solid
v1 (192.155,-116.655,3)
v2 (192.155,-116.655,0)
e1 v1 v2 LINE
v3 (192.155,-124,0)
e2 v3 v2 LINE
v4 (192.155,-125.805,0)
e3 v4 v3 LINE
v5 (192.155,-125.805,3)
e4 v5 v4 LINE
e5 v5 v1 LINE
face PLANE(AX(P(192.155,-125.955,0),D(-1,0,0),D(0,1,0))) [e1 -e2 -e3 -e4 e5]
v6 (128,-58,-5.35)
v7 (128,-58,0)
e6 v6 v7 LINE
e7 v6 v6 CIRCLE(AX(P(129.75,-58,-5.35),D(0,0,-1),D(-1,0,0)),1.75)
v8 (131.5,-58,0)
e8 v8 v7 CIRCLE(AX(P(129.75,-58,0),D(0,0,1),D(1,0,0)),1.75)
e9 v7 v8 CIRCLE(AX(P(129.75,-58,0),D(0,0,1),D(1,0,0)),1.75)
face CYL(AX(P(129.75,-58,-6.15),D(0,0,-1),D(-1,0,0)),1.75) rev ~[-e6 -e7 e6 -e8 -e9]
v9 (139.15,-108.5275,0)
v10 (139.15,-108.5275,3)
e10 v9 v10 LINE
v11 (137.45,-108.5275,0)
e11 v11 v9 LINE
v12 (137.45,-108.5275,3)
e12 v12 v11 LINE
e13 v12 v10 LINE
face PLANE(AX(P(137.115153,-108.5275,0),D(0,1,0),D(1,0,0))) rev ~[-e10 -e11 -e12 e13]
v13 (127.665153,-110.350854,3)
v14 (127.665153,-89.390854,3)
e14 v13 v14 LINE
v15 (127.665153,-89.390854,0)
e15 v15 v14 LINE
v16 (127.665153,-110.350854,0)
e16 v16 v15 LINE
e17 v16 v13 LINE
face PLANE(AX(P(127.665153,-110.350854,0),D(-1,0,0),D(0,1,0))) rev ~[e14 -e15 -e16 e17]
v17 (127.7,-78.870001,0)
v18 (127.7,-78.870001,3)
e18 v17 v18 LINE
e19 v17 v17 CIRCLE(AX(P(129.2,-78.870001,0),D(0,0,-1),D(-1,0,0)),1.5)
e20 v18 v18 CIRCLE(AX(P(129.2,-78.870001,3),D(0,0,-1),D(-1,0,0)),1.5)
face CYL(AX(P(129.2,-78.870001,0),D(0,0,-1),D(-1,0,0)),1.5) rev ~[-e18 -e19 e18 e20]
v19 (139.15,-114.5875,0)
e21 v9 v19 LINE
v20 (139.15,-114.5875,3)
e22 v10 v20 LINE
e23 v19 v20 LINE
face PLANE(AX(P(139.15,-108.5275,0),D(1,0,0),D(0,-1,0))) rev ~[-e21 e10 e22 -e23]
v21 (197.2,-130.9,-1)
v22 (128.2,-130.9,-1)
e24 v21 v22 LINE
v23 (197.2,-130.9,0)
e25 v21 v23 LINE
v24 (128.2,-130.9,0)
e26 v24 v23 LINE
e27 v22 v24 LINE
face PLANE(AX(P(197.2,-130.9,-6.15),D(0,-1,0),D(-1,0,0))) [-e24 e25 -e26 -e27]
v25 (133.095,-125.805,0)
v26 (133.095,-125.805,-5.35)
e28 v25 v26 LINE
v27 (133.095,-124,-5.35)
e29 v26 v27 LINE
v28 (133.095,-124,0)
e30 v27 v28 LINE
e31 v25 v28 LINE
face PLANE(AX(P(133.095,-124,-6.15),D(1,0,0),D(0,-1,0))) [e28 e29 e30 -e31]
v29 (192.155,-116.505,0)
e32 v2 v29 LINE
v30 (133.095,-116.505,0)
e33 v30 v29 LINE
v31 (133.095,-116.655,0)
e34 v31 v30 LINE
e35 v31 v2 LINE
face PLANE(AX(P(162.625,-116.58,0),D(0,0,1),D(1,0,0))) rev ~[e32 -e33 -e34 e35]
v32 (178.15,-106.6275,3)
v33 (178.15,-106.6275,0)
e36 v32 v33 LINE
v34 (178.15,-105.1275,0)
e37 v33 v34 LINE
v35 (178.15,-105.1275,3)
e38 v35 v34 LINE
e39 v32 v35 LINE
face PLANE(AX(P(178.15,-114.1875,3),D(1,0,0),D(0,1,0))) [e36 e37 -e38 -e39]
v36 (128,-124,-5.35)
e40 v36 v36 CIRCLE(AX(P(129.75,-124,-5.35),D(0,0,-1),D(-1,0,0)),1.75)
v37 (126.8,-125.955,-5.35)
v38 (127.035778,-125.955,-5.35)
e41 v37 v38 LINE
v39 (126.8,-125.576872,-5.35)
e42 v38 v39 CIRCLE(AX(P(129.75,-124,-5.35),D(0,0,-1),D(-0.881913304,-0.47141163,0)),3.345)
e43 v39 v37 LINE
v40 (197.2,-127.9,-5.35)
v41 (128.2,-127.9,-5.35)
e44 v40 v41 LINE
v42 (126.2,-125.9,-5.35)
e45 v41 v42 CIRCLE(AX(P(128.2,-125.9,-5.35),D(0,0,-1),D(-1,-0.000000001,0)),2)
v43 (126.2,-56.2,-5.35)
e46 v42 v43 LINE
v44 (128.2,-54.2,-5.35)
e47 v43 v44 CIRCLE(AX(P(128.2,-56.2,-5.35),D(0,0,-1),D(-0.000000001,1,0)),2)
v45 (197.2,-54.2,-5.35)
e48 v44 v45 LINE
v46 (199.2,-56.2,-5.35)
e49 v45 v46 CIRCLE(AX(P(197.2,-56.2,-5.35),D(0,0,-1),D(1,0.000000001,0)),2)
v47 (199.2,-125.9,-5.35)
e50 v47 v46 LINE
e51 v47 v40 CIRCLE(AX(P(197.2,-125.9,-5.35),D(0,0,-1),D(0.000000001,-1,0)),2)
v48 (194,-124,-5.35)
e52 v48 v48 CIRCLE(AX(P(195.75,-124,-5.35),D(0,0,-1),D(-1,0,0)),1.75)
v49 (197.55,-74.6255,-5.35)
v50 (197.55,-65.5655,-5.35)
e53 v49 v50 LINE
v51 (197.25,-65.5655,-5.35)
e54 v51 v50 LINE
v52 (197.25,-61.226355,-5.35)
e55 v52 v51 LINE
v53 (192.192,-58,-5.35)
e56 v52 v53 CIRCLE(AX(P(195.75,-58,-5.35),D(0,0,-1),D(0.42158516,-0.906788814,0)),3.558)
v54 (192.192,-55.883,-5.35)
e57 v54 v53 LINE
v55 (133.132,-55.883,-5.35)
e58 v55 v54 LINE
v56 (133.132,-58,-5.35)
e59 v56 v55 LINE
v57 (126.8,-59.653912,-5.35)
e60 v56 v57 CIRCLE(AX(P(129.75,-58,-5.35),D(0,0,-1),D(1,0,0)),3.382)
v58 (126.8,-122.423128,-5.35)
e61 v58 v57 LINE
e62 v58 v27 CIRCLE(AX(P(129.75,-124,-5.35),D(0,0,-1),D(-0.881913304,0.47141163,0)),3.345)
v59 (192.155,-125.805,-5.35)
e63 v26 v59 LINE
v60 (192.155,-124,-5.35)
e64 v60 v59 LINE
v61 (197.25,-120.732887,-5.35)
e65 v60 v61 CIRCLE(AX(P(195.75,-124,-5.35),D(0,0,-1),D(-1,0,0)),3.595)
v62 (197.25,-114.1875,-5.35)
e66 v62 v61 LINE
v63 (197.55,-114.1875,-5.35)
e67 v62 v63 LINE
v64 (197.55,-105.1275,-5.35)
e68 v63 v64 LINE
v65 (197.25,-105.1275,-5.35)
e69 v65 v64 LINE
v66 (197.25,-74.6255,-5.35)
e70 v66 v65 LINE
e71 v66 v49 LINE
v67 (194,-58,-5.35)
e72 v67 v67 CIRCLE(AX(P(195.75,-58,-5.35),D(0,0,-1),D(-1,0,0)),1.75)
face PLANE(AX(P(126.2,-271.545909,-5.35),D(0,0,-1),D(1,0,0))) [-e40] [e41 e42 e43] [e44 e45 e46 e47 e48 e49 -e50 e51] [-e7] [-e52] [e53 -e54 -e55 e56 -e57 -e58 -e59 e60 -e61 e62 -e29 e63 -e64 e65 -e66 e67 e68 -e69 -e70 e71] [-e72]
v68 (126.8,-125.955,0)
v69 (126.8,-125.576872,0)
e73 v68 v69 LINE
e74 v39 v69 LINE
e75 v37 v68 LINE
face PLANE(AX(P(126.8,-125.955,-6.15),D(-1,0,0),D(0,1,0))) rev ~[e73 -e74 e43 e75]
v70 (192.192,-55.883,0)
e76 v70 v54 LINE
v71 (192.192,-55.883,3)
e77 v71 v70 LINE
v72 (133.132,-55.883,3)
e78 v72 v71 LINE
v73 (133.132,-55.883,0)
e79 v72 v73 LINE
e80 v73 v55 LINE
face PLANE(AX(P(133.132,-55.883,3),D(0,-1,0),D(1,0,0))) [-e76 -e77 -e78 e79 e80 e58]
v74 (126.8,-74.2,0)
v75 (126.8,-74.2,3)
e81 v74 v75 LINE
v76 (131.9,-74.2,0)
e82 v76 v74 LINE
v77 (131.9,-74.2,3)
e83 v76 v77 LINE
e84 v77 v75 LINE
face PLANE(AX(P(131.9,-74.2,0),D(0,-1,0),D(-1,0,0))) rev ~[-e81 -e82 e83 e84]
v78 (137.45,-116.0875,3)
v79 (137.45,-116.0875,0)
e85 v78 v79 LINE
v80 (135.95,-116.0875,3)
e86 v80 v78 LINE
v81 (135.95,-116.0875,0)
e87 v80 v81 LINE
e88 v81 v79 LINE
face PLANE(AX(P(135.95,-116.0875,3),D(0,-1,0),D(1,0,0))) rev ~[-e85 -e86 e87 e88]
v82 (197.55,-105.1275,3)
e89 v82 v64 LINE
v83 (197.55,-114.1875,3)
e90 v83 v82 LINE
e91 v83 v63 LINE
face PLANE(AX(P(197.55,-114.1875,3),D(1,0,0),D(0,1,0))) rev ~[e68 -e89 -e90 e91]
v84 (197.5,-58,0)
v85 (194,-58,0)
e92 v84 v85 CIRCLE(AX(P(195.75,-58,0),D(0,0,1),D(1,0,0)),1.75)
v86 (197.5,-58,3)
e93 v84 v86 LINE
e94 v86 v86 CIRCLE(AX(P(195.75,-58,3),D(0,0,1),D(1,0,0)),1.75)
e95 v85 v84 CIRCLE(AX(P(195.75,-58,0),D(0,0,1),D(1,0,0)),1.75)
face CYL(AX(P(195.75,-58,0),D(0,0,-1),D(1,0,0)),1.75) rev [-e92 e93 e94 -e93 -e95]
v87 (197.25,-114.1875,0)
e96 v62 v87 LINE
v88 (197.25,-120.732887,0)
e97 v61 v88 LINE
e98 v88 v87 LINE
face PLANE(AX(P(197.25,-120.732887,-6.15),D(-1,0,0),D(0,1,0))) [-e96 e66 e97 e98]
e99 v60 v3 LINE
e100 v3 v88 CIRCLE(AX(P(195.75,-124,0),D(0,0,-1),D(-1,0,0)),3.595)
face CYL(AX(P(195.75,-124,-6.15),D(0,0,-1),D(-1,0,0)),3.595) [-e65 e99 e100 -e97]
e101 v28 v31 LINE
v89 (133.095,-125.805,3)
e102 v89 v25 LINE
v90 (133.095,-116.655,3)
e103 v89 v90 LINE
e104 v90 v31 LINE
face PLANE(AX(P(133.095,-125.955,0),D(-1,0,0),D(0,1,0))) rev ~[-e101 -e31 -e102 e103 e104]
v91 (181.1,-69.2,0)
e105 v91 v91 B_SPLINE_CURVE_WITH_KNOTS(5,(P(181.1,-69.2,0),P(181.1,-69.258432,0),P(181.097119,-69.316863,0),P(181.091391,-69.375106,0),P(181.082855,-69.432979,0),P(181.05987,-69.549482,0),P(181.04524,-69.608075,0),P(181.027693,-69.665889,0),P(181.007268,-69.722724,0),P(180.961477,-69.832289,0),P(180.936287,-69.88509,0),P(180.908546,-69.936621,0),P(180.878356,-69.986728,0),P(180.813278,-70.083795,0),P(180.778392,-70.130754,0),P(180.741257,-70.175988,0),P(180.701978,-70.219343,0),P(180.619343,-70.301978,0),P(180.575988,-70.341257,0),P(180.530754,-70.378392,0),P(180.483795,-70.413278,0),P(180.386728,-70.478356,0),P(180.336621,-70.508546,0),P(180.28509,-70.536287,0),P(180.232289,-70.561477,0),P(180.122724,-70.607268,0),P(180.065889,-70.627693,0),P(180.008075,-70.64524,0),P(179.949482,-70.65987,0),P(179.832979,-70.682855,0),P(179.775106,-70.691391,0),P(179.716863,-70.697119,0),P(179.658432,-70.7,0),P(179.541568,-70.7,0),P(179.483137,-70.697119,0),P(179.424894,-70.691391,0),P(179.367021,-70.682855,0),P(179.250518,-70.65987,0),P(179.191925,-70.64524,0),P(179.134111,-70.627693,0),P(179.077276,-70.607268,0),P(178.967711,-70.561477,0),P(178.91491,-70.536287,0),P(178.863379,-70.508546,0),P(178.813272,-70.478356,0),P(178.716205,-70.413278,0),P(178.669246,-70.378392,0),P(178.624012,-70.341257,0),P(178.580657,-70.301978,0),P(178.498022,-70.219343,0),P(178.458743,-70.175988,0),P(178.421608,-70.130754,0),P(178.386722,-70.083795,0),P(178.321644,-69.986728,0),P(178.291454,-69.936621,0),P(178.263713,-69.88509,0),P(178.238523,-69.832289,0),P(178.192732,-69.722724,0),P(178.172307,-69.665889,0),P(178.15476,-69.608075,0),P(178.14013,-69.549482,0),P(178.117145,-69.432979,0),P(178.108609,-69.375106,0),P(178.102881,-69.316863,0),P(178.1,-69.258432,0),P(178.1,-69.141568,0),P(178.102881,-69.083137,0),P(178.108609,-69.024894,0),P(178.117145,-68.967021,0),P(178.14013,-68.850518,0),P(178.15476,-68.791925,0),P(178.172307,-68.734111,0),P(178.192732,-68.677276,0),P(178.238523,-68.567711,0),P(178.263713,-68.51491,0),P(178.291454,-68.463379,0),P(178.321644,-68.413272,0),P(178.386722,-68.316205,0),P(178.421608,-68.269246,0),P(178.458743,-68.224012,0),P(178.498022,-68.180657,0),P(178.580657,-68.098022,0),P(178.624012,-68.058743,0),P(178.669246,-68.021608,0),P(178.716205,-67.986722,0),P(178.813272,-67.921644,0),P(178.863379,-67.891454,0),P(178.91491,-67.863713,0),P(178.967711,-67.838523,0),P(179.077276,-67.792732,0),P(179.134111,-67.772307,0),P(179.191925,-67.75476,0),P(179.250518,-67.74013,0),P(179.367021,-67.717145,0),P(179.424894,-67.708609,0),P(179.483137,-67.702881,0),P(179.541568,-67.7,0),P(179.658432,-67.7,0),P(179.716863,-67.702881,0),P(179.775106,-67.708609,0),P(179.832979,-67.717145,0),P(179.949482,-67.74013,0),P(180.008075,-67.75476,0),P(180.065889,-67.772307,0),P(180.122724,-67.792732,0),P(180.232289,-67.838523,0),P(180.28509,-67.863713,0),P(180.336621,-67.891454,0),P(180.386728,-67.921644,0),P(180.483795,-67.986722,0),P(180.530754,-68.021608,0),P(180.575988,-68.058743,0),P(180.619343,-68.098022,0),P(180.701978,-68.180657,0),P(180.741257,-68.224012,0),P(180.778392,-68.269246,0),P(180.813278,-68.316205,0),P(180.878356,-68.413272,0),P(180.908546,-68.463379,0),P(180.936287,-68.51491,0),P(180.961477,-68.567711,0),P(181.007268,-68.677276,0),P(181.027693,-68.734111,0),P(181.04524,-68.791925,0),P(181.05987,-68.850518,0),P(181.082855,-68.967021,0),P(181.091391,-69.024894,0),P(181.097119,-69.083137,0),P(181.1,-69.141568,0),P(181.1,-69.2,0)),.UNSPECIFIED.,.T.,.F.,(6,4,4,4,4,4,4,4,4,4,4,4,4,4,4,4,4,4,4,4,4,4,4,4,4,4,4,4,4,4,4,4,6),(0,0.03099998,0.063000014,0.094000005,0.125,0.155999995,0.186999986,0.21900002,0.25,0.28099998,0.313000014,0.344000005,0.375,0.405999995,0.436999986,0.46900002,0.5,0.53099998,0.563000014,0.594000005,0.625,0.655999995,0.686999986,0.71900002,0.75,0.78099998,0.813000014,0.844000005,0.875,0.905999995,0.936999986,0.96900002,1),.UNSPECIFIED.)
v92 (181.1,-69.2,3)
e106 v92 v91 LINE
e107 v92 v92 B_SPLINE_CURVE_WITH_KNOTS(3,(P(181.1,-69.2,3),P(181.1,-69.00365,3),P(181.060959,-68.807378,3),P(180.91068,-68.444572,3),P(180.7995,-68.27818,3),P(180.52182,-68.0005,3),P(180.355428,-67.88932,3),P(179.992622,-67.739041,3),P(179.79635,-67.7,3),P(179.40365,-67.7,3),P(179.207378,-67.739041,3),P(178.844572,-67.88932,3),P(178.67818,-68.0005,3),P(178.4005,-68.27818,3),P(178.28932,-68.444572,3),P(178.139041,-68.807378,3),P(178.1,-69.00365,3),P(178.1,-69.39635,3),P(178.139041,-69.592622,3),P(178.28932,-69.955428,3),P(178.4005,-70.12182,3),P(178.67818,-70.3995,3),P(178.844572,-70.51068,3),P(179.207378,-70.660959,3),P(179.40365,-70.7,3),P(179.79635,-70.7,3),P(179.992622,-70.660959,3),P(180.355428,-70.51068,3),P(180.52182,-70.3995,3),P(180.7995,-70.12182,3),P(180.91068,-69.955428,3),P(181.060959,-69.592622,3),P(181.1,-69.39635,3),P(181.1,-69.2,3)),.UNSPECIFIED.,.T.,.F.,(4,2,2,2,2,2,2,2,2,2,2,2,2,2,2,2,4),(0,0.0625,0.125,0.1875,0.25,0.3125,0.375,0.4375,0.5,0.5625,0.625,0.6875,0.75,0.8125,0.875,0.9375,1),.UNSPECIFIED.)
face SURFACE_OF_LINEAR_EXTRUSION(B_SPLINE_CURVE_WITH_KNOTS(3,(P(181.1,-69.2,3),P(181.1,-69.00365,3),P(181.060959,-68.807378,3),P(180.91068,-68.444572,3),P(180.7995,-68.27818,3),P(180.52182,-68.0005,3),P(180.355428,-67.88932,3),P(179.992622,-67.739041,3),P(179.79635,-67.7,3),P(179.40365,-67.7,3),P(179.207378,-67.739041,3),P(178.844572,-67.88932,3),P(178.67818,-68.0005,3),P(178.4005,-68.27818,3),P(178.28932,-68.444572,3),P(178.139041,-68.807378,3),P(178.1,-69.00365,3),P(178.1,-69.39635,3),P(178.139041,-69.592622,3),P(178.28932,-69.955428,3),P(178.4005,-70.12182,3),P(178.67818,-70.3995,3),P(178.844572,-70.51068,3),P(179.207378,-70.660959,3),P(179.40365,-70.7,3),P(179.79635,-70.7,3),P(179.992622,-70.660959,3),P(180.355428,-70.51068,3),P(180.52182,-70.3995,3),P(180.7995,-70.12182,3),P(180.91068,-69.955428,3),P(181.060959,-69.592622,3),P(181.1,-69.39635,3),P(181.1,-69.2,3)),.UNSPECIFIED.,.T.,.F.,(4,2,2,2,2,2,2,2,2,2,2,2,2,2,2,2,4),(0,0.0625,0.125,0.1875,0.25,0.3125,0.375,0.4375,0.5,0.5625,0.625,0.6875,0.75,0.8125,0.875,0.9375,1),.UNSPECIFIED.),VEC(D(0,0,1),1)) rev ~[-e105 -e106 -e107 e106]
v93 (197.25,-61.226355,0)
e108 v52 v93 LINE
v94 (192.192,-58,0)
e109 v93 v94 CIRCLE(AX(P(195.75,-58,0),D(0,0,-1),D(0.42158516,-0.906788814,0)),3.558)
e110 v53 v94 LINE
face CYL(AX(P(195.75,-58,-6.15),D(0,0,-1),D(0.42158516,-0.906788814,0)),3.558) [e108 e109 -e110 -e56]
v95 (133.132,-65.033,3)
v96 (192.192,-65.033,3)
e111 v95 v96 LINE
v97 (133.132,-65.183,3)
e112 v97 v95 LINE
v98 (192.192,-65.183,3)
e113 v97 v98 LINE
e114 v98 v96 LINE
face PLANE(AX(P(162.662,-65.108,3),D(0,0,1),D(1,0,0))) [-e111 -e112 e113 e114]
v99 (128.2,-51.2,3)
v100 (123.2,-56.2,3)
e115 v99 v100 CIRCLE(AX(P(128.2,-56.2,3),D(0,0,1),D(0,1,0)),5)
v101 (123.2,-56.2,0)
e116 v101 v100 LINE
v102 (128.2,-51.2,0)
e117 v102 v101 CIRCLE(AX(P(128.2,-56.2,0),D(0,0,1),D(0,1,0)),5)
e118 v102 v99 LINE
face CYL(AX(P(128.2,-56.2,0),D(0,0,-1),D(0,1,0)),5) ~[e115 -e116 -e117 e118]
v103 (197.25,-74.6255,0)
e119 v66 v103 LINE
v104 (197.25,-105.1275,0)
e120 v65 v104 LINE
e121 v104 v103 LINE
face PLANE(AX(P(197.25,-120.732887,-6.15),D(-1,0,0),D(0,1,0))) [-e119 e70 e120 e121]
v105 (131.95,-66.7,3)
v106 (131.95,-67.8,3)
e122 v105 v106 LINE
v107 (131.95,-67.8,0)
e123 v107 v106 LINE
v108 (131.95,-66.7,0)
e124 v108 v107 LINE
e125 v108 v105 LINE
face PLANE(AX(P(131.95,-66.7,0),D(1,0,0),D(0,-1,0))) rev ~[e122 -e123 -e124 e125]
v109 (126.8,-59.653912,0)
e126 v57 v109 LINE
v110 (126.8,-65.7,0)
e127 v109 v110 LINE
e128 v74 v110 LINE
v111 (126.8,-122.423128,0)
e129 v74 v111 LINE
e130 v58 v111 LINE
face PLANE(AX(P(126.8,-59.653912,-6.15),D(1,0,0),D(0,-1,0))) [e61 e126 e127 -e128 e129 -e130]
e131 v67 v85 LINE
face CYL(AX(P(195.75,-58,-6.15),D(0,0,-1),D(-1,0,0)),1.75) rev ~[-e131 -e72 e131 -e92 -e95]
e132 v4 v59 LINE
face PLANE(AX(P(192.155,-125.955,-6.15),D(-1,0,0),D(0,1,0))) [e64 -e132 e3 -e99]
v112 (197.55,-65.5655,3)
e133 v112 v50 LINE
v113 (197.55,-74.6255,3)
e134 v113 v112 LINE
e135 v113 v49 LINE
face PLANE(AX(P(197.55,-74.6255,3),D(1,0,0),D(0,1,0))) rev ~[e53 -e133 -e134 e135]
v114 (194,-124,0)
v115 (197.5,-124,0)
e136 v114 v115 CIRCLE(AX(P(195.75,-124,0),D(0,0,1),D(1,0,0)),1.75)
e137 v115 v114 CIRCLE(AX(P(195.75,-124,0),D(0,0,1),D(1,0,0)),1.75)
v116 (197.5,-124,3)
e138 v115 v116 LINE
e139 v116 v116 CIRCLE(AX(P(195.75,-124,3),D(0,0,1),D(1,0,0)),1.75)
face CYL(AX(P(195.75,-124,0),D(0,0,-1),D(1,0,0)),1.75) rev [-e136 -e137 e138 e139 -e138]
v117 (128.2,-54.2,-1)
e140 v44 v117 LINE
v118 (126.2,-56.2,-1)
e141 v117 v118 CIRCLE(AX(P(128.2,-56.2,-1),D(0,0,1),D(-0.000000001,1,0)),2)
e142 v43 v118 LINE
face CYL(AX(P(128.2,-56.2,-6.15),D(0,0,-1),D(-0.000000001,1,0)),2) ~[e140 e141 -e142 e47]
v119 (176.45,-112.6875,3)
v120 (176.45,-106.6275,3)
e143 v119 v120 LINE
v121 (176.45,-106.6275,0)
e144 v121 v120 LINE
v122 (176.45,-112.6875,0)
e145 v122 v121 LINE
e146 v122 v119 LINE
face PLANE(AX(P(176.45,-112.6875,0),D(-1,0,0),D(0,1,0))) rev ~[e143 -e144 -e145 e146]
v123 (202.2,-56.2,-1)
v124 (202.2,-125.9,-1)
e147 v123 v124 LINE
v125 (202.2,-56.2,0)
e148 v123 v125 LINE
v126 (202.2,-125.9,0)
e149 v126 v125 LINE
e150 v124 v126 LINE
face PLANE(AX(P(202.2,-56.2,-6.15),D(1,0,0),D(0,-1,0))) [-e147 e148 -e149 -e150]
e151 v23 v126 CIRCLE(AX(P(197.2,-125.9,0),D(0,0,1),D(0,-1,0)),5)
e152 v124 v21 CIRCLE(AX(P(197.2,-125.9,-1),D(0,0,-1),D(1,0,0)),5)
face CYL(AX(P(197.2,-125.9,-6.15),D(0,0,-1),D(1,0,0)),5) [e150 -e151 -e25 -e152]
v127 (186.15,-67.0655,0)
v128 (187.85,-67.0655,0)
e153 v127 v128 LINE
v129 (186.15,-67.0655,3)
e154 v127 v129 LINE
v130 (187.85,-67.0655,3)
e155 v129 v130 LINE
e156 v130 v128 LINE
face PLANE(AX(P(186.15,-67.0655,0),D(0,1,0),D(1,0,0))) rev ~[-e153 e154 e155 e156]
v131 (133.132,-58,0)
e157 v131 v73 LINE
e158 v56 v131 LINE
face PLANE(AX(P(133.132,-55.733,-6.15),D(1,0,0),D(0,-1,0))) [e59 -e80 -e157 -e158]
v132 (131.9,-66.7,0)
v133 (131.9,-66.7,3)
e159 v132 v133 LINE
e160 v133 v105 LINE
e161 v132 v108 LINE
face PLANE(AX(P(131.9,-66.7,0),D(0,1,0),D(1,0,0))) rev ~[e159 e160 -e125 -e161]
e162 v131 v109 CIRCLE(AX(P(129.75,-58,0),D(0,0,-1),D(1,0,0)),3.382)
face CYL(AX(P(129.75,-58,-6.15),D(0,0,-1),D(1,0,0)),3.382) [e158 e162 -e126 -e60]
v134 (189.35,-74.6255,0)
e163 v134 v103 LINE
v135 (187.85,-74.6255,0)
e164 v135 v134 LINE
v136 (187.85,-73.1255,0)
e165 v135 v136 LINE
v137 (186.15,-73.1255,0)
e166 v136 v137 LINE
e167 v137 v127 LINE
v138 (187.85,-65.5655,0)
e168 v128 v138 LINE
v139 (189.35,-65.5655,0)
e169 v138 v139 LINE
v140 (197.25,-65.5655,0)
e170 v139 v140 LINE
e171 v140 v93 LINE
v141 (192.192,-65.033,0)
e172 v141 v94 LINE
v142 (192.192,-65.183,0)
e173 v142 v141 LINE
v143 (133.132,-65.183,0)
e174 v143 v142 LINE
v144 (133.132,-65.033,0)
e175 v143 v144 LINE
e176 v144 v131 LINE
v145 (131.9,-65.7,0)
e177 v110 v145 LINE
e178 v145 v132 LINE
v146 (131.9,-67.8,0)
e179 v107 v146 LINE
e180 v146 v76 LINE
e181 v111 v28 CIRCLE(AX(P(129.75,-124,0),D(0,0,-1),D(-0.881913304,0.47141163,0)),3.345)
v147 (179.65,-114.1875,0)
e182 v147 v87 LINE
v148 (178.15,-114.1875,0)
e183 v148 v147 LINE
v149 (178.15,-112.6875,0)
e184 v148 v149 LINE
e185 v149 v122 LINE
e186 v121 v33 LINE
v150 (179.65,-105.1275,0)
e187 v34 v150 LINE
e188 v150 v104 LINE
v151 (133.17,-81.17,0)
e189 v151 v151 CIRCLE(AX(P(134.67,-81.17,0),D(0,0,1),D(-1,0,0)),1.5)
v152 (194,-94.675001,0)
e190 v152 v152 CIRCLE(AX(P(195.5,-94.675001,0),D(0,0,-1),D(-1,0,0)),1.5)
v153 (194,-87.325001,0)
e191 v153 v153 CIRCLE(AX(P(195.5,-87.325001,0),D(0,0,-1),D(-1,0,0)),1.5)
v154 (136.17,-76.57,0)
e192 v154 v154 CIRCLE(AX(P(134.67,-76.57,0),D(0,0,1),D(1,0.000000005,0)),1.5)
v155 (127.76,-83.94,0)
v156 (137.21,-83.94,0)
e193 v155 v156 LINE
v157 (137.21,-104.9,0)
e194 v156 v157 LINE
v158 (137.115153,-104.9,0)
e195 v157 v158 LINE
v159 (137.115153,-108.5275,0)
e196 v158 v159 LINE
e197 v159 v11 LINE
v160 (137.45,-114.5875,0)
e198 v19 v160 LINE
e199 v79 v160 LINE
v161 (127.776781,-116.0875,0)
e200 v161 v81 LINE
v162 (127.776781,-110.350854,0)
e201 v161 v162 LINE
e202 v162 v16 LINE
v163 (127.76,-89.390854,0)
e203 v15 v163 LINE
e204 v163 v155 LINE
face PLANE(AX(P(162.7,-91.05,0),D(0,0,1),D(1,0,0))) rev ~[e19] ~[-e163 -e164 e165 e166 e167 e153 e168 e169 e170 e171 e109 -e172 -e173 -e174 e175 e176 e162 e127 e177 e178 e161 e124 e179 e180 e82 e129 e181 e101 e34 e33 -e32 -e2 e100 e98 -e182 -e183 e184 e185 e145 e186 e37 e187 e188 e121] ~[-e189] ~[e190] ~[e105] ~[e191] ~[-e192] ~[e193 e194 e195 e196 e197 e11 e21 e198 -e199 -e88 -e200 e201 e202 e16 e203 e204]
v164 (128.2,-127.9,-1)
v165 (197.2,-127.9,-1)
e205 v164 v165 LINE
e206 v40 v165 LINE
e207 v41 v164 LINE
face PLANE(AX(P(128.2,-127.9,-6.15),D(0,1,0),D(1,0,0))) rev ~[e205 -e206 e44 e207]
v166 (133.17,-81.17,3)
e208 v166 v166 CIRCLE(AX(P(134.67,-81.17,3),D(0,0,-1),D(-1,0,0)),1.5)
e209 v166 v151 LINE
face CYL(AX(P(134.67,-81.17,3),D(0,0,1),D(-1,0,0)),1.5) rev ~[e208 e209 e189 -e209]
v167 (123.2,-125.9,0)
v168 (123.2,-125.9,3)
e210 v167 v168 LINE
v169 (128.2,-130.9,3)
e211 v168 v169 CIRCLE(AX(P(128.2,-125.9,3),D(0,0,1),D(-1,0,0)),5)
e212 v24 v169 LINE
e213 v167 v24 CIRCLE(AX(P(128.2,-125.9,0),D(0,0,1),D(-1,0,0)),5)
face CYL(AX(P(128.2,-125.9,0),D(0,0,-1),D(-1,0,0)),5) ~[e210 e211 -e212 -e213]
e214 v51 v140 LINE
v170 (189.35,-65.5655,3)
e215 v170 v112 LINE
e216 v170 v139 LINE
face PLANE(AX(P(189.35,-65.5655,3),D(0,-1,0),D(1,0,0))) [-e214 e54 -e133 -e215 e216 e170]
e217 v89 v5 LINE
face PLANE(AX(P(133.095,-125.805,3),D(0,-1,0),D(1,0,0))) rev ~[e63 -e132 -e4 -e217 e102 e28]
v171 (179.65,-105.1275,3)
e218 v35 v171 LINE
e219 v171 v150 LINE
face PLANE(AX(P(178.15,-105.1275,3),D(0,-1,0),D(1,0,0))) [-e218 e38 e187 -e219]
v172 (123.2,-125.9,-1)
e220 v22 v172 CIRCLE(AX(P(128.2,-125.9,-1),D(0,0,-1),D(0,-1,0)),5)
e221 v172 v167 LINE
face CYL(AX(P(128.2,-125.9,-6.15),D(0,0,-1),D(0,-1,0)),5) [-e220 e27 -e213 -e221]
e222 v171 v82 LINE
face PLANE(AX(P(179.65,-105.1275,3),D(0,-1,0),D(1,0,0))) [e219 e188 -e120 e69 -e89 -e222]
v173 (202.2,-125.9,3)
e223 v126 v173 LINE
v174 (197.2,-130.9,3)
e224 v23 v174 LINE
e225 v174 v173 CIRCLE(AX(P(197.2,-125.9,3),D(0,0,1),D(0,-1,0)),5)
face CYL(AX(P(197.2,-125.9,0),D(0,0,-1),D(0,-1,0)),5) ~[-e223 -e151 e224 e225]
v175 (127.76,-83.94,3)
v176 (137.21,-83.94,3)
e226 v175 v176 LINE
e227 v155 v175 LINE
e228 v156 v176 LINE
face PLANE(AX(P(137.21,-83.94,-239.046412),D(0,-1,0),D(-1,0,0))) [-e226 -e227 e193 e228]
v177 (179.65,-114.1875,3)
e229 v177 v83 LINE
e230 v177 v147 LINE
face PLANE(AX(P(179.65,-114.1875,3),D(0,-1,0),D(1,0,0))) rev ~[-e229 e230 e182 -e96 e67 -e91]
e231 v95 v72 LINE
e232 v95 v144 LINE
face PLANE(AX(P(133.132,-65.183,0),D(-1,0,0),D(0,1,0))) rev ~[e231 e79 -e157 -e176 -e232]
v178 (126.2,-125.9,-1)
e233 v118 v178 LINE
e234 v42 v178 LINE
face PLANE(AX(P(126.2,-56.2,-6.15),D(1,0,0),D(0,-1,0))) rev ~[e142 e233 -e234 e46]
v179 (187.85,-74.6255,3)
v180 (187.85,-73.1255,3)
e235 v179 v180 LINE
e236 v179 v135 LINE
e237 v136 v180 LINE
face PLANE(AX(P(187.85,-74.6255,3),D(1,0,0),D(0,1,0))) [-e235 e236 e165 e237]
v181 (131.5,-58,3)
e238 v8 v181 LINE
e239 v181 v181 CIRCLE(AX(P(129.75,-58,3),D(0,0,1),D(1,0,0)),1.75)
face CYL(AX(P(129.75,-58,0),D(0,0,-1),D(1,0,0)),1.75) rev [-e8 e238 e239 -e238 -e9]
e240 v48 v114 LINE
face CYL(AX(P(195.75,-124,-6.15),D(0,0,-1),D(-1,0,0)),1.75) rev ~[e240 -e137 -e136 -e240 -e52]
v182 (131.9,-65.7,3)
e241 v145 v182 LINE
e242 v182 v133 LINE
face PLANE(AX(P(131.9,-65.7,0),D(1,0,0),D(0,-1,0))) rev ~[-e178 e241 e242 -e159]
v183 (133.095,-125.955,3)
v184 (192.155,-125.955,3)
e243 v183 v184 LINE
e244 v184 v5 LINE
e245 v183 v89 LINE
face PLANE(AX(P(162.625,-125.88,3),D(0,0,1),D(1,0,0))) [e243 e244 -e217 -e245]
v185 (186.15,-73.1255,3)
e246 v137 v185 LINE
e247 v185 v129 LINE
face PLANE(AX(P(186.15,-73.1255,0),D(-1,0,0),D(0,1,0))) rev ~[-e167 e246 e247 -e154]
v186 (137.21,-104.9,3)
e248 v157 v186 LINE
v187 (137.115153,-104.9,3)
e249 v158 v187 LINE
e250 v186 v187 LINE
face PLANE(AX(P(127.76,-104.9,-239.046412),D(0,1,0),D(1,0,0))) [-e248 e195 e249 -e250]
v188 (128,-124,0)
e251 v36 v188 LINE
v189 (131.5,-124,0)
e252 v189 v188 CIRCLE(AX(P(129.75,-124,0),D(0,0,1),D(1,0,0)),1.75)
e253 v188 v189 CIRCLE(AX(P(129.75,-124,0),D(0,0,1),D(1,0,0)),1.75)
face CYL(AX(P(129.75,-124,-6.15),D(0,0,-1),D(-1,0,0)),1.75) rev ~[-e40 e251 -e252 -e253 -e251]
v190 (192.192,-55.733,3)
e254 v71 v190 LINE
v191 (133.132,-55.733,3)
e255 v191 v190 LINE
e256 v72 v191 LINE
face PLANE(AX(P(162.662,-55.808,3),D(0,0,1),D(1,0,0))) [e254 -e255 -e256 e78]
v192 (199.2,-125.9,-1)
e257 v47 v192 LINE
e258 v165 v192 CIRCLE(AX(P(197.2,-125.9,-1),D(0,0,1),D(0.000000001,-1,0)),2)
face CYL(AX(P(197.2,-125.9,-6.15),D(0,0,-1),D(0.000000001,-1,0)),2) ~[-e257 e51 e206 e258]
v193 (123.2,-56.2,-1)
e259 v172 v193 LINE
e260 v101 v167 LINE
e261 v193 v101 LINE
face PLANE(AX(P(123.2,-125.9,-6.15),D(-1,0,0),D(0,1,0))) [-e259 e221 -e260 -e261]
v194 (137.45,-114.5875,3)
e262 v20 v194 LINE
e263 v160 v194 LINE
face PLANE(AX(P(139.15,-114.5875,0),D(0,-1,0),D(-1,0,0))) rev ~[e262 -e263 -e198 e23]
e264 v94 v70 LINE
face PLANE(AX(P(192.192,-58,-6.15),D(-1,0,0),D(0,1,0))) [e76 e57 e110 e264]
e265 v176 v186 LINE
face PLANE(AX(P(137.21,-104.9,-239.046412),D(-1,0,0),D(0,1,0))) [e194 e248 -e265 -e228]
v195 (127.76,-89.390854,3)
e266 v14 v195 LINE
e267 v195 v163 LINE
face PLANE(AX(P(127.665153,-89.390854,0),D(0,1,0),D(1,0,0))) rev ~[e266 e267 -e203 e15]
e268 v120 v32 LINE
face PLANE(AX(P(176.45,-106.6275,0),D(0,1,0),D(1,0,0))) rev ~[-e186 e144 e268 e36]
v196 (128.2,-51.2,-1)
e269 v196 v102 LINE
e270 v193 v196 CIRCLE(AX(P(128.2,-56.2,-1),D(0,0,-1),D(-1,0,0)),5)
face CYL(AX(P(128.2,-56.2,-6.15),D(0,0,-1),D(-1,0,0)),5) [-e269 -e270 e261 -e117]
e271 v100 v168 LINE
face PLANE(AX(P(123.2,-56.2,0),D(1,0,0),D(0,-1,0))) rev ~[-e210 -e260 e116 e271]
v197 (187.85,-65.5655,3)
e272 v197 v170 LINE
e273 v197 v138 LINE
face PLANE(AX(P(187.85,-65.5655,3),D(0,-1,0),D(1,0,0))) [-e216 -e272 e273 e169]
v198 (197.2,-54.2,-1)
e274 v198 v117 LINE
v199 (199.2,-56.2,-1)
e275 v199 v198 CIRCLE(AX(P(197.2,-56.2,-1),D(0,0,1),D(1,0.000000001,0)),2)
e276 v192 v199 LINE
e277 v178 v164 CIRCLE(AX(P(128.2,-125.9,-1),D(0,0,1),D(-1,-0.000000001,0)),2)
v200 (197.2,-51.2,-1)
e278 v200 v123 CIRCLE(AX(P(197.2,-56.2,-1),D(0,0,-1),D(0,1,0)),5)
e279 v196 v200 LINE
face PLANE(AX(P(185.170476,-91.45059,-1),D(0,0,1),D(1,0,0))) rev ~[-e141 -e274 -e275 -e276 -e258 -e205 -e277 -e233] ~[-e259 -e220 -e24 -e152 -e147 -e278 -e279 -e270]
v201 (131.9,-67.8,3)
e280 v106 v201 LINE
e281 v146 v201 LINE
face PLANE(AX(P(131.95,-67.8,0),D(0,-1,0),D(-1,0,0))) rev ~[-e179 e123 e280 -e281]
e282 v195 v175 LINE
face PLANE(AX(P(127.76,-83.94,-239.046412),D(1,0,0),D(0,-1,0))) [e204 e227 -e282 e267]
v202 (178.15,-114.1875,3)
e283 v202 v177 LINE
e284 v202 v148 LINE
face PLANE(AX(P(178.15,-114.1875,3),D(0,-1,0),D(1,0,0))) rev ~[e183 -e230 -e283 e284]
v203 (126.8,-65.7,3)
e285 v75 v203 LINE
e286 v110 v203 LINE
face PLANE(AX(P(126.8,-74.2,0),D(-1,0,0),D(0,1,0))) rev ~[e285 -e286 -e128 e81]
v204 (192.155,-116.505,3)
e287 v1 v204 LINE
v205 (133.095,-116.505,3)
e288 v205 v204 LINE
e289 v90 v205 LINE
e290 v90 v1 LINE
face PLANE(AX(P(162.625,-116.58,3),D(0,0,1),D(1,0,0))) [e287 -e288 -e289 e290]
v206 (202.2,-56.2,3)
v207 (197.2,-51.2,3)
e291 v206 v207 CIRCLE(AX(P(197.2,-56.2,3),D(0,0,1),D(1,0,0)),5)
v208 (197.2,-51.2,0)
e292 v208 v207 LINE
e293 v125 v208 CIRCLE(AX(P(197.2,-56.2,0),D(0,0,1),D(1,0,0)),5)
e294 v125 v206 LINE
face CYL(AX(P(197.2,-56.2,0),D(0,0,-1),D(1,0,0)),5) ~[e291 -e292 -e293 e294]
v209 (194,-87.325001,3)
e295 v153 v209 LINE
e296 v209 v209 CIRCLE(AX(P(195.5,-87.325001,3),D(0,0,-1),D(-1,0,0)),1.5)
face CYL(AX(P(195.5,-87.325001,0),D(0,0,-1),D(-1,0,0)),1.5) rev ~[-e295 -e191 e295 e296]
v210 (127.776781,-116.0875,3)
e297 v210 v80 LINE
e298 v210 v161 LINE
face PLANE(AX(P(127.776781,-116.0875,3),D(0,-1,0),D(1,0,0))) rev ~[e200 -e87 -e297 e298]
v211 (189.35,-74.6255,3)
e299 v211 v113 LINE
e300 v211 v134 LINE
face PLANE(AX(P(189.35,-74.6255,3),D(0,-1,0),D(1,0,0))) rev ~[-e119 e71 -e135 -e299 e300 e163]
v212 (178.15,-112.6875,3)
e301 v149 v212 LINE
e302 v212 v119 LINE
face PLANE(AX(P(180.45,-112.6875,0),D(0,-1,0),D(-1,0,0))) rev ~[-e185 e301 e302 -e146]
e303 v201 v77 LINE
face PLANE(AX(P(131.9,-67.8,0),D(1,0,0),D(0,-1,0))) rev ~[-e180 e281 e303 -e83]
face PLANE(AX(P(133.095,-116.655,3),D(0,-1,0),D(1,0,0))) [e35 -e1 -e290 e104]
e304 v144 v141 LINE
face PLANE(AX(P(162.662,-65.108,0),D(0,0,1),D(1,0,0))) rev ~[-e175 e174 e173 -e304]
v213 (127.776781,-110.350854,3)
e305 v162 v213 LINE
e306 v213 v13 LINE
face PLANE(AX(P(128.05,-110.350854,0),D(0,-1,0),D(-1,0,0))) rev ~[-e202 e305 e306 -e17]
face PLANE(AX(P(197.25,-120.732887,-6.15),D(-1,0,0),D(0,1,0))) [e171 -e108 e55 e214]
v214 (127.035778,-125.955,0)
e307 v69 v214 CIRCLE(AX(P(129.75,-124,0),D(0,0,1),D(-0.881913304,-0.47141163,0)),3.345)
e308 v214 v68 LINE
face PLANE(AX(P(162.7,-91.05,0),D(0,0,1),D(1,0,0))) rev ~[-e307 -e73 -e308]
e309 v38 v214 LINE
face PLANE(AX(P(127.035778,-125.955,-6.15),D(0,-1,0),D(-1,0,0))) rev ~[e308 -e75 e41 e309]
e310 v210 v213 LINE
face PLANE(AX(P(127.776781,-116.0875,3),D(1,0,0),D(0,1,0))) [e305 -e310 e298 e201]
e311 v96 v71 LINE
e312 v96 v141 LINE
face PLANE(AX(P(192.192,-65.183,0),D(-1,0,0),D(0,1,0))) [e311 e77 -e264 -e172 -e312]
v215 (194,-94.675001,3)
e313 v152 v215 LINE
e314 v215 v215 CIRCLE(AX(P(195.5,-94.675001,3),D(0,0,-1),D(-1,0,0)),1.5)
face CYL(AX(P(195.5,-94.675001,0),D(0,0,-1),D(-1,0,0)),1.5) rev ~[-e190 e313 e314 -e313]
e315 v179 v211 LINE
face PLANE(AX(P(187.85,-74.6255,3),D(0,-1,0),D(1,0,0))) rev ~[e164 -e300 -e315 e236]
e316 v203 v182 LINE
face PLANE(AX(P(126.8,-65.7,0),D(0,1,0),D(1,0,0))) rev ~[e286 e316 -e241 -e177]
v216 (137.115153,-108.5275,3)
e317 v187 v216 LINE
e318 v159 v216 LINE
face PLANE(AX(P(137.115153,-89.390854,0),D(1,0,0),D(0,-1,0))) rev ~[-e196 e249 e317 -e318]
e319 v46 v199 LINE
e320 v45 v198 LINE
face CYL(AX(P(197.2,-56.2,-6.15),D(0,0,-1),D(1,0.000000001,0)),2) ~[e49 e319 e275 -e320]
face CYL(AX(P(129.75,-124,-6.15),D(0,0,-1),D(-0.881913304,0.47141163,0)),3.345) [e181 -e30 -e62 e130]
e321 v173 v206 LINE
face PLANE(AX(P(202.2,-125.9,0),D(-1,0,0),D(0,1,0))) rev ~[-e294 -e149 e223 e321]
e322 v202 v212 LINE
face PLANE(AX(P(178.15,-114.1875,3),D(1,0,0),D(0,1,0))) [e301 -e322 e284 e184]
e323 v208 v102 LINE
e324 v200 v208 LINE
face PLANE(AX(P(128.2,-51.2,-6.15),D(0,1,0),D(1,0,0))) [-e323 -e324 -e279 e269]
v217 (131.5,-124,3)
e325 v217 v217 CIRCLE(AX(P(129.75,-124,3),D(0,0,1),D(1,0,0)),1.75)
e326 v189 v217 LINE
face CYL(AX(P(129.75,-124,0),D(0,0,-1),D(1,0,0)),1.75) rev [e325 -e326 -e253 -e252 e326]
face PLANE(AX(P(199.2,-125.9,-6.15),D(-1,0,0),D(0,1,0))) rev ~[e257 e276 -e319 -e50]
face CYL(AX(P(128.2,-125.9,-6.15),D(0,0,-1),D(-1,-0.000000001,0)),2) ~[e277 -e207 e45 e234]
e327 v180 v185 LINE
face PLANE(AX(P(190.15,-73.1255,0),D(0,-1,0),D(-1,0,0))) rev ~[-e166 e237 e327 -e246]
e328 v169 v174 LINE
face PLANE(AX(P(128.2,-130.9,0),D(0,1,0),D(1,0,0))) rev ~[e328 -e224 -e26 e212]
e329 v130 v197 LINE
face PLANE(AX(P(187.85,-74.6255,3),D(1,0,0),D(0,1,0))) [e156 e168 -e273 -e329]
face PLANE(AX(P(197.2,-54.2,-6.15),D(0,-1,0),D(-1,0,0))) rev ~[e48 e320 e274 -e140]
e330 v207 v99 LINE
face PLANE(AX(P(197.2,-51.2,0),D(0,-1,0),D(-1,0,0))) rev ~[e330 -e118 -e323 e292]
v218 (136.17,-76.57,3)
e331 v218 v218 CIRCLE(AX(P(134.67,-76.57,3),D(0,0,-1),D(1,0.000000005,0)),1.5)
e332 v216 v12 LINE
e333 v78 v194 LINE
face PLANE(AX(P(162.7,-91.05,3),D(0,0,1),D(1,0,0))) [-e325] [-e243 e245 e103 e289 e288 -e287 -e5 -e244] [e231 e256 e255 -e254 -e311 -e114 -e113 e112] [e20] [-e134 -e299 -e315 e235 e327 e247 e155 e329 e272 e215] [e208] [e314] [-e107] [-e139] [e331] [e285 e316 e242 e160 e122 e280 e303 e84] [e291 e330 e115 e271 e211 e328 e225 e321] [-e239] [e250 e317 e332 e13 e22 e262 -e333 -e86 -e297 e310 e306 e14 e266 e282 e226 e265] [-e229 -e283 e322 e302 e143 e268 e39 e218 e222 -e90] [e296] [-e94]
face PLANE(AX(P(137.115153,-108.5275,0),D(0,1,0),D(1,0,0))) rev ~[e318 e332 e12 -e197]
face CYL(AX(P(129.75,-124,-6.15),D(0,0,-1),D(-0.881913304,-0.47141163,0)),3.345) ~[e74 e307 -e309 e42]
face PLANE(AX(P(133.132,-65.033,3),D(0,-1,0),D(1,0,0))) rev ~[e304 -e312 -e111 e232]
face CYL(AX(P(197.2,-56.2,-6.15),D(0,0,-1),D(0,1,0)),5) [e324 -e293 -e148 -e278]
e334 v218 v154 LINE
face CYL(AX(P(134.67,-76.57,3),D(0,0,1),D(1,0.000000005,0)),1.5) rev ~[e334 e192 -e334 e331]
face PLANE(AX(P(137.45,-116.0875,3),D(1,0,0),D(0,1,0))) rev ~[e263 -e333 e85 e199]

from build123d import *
from build123d.topology import SkipClean

# Parameters (mm, degrees)
SKETCH1_W               = 59.06
SKETCH1_H               = 9.45
SKETCH1_R               = 1.75
SKETCH1_R_2             = 1.1
BOSS_EXTRUDE1_DEPTH     = 3
BOSS_EXTRUDE2_START     = 6.15
SKETCH2_R               = 1.75
BOSS_EXTRUDE2_DEPTH     = 6.15
SKETCH4_W               = 177.250656685
SKETCH4_H               = 178.995431185
CUT_EXTRUDE2_DEPTH      = 5.15
CUT_EXTRUDE3_DEPTH      = 242.046411506
CUT_EXTRUDE3_DEPTH_BACK = 242.046411506
SKETCH6_W               = 0.5
SKETCH6_H               = 8.16631948
SKETCH6_H_2             = 8.46
CUT_EXTRUDE4_DEPTH      = 242.046411506
SKETCH8_W               = 8.2
SKETCH8_H               = 9.06
SKETCH8_W_2             = 17.9
SKETCH8_W_3             = 8.173219028
SKETCH8_H_2             = 9.620189514
CUT_EXTRUDE5_DEPTH      = 242.046411506
SKETCH9_W               = 59.06
SKETCH9_H               = 0.15
BOSS_EXTRUDE3_DEPTH     = 9.15
SKETCH9_3_W             = 59.06
SKETCH9_3_H             = 0.15
BOSS_EXTRUDE4_DEPTH     = 3
SKETCH10_R              = 1.5
CUT_EXTRUDE6_DEPTH      = 241.951182815
CUT_EXTRUDE7_DEPTH      = 217.345909367
CUT_EXTRUDE7_DEPTH_BACK = 217.345909367
SKETCH11_W              = 73
SKETCH11_H              = 0.8
CUT_EXTRUDE8_DEPTH      = 10
SKETCH13_W              = 1.5
SKETCH13_H              = 9.06
SKETCH13_H_2            = 7.56
CUT_EXTRUDE9_DEPTH      = 10


with BuildPart() as part:
    # Sketch1 → Boss-Extrude1 (new body)
    with BuildSketch(Plane.XY):
        with BuildLine():
            ThreePointArc((197.2, -130.9), (200.735533906, -129.435533906), (202.2, -125.9))
            Line((202.2, -125.9), (202.2, -56.2))
            ThreePointArc((202.2, -56.2), (200.735533906, -52.664466094), (197.2, -51.2))
            Line((197.2, -51.2), (128.2, -51.2))
            ThreePointArc((128.2, -51.2), (124.664466094, -52.664466094), (123.2, -56.2))
            Line((123.2, -56.2), (123.2, -125.9))
            ThreePointArc((123.2, -125.9), (124.664466094, -129.435533906), (128.2, -130.9))
            Line((128.2, -130.9), (197.2, -130.9))
        make_face()
        Polygon((127.665152647, -110.350853926), (127.665152647, -89.390853926), (137.115152647, -89.390853926), (137.115152647, -108.5275), (139.15, -108.5275), (139.15, -114.5875), (135.15, -114.5875), (135.15, -115.7875), (128.05, -115.7875), (128.05, -110.350853926), align=None, mode=Mode.SUBTRACT)
        with Locations((162.625, -121.23)):
            Rectangle(SKETCH1_W, SKETCH1_H, mode=Mode.SUBTRACT)
        with Locations((129.75, -124)):
            Circle(SKETCH1_R, mode=Mode.SUBTRACT)
        with Locations((195.75, -124)):
            Circle(SKETCH1_R, mode=Mode.SUBTRACT)
        with Locations((129.2, -78.870001)):
            Circle(SKETCH1_R_2, mode=Mode.SUBTRACT)
        Polygon((126.8, -74.2), (126.8, -65.7), (131.9, -65.7), (131.9, -66.7), (131.95, -66.7), (131.95, -67.8), (131.9, -67.8), (131.9, -74.2), align=None, mode=Mode.SUBTRACT)
        with Locations((129.75, -58)):
            Circle(SKETCH1_R, mode=Mode.SUBTRACT)
        with Locations((162.662, -60.458)):
            Rectangle(SKETCH1_W, SKETCH1_H, mode=Mode.SUBTRACT)
        Polygon((197.25, -113.8875), (180.45, -113.8875), (180.45, -112.6875), (176.45, -112.6875), (176.45, -106.6275), (180.45, -106.6275), (180.45, -105.4275), (197.25, -105.4275), align=None, mode=Mode.SUBTRACT)
        with Locations((195.5, -94.675001)):
            Circle(SKETCH1_R_2, mode=Mode.SUBTRACT)
        with Locations((195.5, -87.325001)):
            Circle(SKETCH1_R_2, mode=Mode.SUBTRACT)
        Polygon((186.15, -67.0655), (190.15, -67.0655), (190.15, -65.8655), (197.25, -65.8655), (197.25, -74.3255), (190.15, -74.3255), (190.15, -73.1255), (186.15, -73.1255), align=None, mode=Mode.SUBTRACT)
        with Locations((195.75, -58)):
            Circle(SKETCH1_R, mode=Mode.SUBTRACT)
    extrude(amount=BOSS_EXTRUDE1_DEPTH)

    # Sketch2 → Boss-Extrude2 (add)
    with SkipClean():  # the faces are left unmerged after this step: merging them gives an invalid solid
        with BuildSketch(Plane(origin=(0, 0, 0), x_dir=(-1, 0, 0), z_dir=(0, 0, -1)).offset(BOSS_EXTRUDE2_START)):
            with BuildLine():
                Line((-123.2, -125.9), (-123.2, -116.505))
                Line((-123.2, -116.505), (-123.2, -65.183))
                Line((-123.2, -65.183), (-123.2, -56.2))
                ThreePointArc((-123.2, -56.2), (-124.664466094, -52.664466094), (-128.2, -51.2))
                Line((-128.2, -51.2), (-133.132, -51.2))
                Line((-133.132, -51.2), (-192.192, -51.2))
                Line((-192.192, -51.2), (-197.2, -51.2))
                ThreePointArc((-197.2, -51.2), (-200.735533906, -52.664466094), (-202.2, -56.2))
                Line((-202.2, -56.2), (-202.2, -65.183))
                Line((-202.2, -65.183), (-202.2, -116.505))
                Line((-202.2, -116.505), (-202.2, -125.9))
                ThreePointArc((-202.2, -125.9), (-200.735533906, -129.435533906), (-197.2, -130.9))
                Line((-197.2, -130.9), (-192.155, -130.9))
                Line((-192.155, -130.9), (-133.095, -130.9))
                Line((-133.095, -130.9), (-128.2, -130.9))
                ThreePointArc((-128.2, -130.9), (-124.664466094, -129.435533906), (-123.2, -125.9))
            make_face()
            with Locations((-195.75, -58)):
                Circle(SKETCH2_R, mode=Mode.SUBTRACT)
            with Locations((-129.75, -58)):
                Circle(SKETCH2_R, mode=Mode.SUBTRACT)
            with Locations((-129.75, -124)):
                Circle(SKETCH2_R, mode=Mode.SUBTRACT)
            with Locations((-195.75, -124)):
                Circle(SKETCH2_R, mode=Mode.SUBTRACT)
            with BuildLine():
                Line((-192.192, -58), (-192.192, -55.733))
                Line((-192.192, -55.733), (-133.132, -55.733))
                Line((-133.132, -55.733), (-133.132, -58))
                ThreePointArc((-133.132, -58), (-130.604699947, -61.272218208), (-126.8, -59.653911727))
                Line((-126.8, -59.653911727), (-126.8, -122.423128097))
                ThreePointArc((-126.8, -122.423128097), (-130.5627961, -120.755252321), (-133.095, -124))
                Line((-133.095, -124), (-133.095, -125.955))
                Line((-133.095, -125.955), (-192.155, -125.955))
                Line((-192.155, -125.955), (-192.155, -124))
                ThreePointArc((-192.155, -124), (-193.809442735, -120.973737867), (-197.25, -120.73288736))
                Line((-197.25, -120.73288736), (-197.25, -61.226354599))
                ThreePointArc((-197.25, -61.226354599), (-193.836578457, -60.999696985), (-192.192, -58))
            make_face(mode=Mode.SUBTRACT)
            with BuildLine():
                Line((-127.035778196, -125.955), (-126.8, -125.955))
                Line((-126.8, -125.955), (-126.8, -125.576871903))
                ThreePointArc((-126.8, -125.576871903), (-126.911585412, -125.769866556), (-127.035778196, -125.955))
            make_face(mode=Mode.SUBTRACT)
        extrude(amount=-BOSS_EXTRUDE2_DEPTH)

    # Sketch4 → Cut-Extrude2 (cut)
    with SkipClean():  # the faces are left unmerged after this step: merging them gives an invalid solid
        with BuildSketch(Plane.XY.offset(-6.15)):
            with Locations((185.170476037, -91.450590379)):
                Rectangle(SKETCH4_W, SKETCH4_H)
            with BuildLine():
                Line((126.2, -56.2), (126.2, -125.9))
                ThreePointArc((126.2, -125.9), (126.785786438, -127.314213562), (128.2, -127.9))
                Line((128.2, -127.9), (197.2, -127.9))
                ThreePointArc((197.2, -127.9), (198.614213562, -127.314213562), (199.2, -125.9))
                Line((199.2, -125.9), (199.2, -56.2))
                ThreePointArc((199.2, -56.2), (198.614213562, -54.785786438), (197.2, -54.2))
                Line((197.2, -54.2), (128.2, -54.2))
                ThreePointArc((128.2, -54.2), (126.785786438, -54.785786438), (126.2, -56.2))
            make_face(mode=Mode.SUBTRACT)
        extrude(amount=CUT_EXTRUDE2_DEPTH, mode=Mode.SUBTRACT)

    # Sketch5 → Cut-Extrude3 (cut, two sides: drawn at the far end of the back side and taken through both)
    with SkipClean():  # the faces are left unmerged after this step: merging them gives an invalid solid
        with BuildSketch(Plane.XY.offset(3).offset(-CUT_EXTRUDE3_DEPTH_BACK)):
            Polygon((127.76, -92.17), (127.76, -96.67), (127.76, -104.9), (137.21, -104.9), (137.21, -83.94), (127.76, -83.94), align=None)
        extrude(amount=CUT_EXTRUDE3_DEPTH + CUT_EXTRUDE3_DEPTH_BACK, mode=Mode.SUBTRACT)

    # Sketch6 → Cut-Extrude4 (cut, through all)
    with SkipClean():  # the faces are left unmerged after this step: merging them gives an invalid solid
        with BuildSketch(Plane.XY.offset(3)):
            with Locations((135.4, -111.70434026)):
                Rectangle(SKETCH6_W, SKETCH6_H)
            with Locations((180.2, -109.6575)):
                Rectangle(SKETCH6_W, SKETCH6_H_2)
            with Locations((189.9, -70.0955)):
                Rectangle(SKETCH6_W, SKETCH6_H_2)
        extrude(amount=-CUT_EXTRUDE4_DEPTH, mode=Mode.SUBTRACT)

    # Sketch8 → Cut-Extrude5 (cut, through all)
    with SkipClean():  # the faces are left unmerged after this step: merging them gives an invalid solid
        with BuildSketch(Plane.XY.offset(3)):
            with Locations((193.45, -70.0955)):
                Rectangle(SKETCH8_W, SKETCH8_H)
            with Locations((188.6, -109.6575)):
                Rectangle(SKETCH8_W_2, SKETCH8_H)
            with Locations((131.863390486, -111.277405243)):
                Rectangle(SKETCH8_W_3, SKETCH8_H_2)
        extrude(amount=-CUT_EXTRUDE5_DEPTH, mode=Mode.SUBTRACT)

    # Sketch9 → Boss-Extrude3 (add)
    with SkipClean():  # the faces are left unmerged after this step: merging them gives an invalid solid
        with BuildSketch(Plane.XY.offset(3)):
            with Locations((162.662, -55.808)):
                Rectangle(SKETCH9_W, SKETCH9_H)
            with Locations((162.625, -125.88)):
                Rectangle(SKETCH9_W, SKETCH9_H)
        extrude(amount=-BOSS_EXTRUDE3_DEPTH)

    # Sketch9<3> → Boss-Extrude4 (add)
    with SkipClean():  # the faces are left unmerged after this step: merging them gives an invalid solid
        with BuildSketch(Plane.XY.offset(3)):
            with Locations((162.662, -65.108)):
                Rectangle(SKETCH9_3_W, SKETCH9_3_H)
            with Locations((162.625, -116.58)):
                Rectangle(SKETCH9_3_W, SKETCH9_3_H)
        extrude(amount=-BOSS_EXTRUDE4_DEPTH)

    # Sketch10 → Cut-Extrude6 (cut, through all)
    with SkipClean():  # the faces are left unmerged after this step: merging them gives an invalid solid
        with BuildSketch(Plane(origin=(0, 0, 0), x_dir=(-1, 0, 0), z_dir=(0, 0, -1))):
            with Locations((-195.5, -94.675001)):
                Circle(SKETCH10_R)
            with Locations((-195.5, -87.325001)):
                Circle(SKETCH10_R)
            with Locations((-129.2, -78.870001)):
                Circle(SKETCH10_R)
        extrude(amount=-CUT_EXTRUDE6_DEPTH, mode=Mode.SUBTRACT)

    # Sketch11 → Cut-Extrude7 (cut, two sides: drawn at the far end of the back side and taken through both)
    with SkipClean():  # the faces are left unmerged after this step: merging them gives an invalid solid
        with BuildSketch(Plane(origin=(0, -54.2, 0), x_dir=(1, 0, 0), z_dir=(0, 1, 0)).offset(-CUT_EXTRUDE7_DEPTH_BACK)):
            with Locations((162.7, 5.75)):
                Rectangle(SKETCH11_W, SKETCH11_H)
        extrude(amount=CUT_EXTRUDE7_DEPTH + CUT_EXTRUDE7_DEPTH_BACK, mode=Mode.SUBTRACT)

    # Sketch12 → Cut-Extrude8 (cut)
    with SkipClean():  # the faces are left unmerged after this step: merging them gives an invalid solid
        with BuildSketch(Plane.XY.offset(3)):
            with BuildLine():
                add(Edge.make_bspline(
                    [(181.1, -69.2), (181.1, -69.003650459), (181.060959015, -68.807378173), (180.910679583, -68.444571529), (180.799500264, -68.27817992), (180.52182008, -68.000499736), (180.355428471, -67.889320417), (179.992621827, -67.739040985), (179.796349541, -67.7), (179.403650459, -67.7), (179.207378173, -67.739040985), (178.844571529, -67.889320417), (178.67817992, -68.000499736), (178.400499736, -68.27817992), (178.289320417, -68.444571529), (178.139040985, -68.807378173), (178.1, -69.003650459), (178.1, -69.396349541), (178.139040985, -69.592621827), (178.289320417, -69.955428471), (178.400499736, -70.12182008), (178.67817992, -70.399500264), (178.844571529, -70.510679583), (179.207378173, -70.660959015), (179.403650459, -70.7), (179.796349541, -70.7), (179.992621827, -70.660959015), (180.355428471, -70.510679583), (180.52182008, -70.399500264), (180.799500264, -70.12182008), (180.910679583, -69.955428471), (181.060959015, -69.592621827), (181.1, -69.396349541), (181.1, -69.2)],
                    knots=[0, 0, 0, 0, 0.0625, 0.0625, 0.125, 0.125, 0.1875, 0.1875, 0.25, 0.25, 0.3125, 0.3125, 0.375, 0.375, 0.4375, 0.4375, 0.5, 0.5, 0.5625, 0.5625, 0.625, 0.625, 0.6875, 0.6875, 0.75, 0.75, 0.8125, 0.8125, 0.875, 0.875, 0.9375, 0.9375, 1, 1, 1, 1], degree=3))
            make_face()
            with BuildLine():
                ThreePointArc((133.17, -81.17), (134.67, -82.67), (136.17, -81.17))
                ThreePointArc((136.17, -81.17), (134.67, -79.67), (133.17, -81.17))
            make_face()
            with BuildLine():
                ThreePointArc((136.17, -76.569999992), (134.669999996, -75.07), (133.17, -76.57))
                ThreePointArc((133.17, -76.57), (134.670000004, -78.07), (136.17, -76.569999992))
            make_face()
        extrude(amount=-CUT_EXTRUDE8_DEPTH, mode=Mode.SUBTRACT)

    # Sketch13 → Cut-Extrude9 (cut)
    with SkipClean():  # the faces are left unmerged after this step: merging them gives an invalid solid
        with BuildSketch(Plane.XY.offset(3)):
            with Locations((188.6, -70.0955)):
                Rectangle(SKETCH13_W, SKETCH13_H)
            with Locations((136.7, -112.3075)):
                Rectangle(SKETCH13_W, SKETCH13_H_2)
            with Locations((178.9, -109.6575)):
                Rectangle(SKETCH13_W, SKETCH13_H)
        extrude(amount=-CUT_EXTRUDE9_DEPTH, mode=Mode.SUBTRACT)


solid = part.part
